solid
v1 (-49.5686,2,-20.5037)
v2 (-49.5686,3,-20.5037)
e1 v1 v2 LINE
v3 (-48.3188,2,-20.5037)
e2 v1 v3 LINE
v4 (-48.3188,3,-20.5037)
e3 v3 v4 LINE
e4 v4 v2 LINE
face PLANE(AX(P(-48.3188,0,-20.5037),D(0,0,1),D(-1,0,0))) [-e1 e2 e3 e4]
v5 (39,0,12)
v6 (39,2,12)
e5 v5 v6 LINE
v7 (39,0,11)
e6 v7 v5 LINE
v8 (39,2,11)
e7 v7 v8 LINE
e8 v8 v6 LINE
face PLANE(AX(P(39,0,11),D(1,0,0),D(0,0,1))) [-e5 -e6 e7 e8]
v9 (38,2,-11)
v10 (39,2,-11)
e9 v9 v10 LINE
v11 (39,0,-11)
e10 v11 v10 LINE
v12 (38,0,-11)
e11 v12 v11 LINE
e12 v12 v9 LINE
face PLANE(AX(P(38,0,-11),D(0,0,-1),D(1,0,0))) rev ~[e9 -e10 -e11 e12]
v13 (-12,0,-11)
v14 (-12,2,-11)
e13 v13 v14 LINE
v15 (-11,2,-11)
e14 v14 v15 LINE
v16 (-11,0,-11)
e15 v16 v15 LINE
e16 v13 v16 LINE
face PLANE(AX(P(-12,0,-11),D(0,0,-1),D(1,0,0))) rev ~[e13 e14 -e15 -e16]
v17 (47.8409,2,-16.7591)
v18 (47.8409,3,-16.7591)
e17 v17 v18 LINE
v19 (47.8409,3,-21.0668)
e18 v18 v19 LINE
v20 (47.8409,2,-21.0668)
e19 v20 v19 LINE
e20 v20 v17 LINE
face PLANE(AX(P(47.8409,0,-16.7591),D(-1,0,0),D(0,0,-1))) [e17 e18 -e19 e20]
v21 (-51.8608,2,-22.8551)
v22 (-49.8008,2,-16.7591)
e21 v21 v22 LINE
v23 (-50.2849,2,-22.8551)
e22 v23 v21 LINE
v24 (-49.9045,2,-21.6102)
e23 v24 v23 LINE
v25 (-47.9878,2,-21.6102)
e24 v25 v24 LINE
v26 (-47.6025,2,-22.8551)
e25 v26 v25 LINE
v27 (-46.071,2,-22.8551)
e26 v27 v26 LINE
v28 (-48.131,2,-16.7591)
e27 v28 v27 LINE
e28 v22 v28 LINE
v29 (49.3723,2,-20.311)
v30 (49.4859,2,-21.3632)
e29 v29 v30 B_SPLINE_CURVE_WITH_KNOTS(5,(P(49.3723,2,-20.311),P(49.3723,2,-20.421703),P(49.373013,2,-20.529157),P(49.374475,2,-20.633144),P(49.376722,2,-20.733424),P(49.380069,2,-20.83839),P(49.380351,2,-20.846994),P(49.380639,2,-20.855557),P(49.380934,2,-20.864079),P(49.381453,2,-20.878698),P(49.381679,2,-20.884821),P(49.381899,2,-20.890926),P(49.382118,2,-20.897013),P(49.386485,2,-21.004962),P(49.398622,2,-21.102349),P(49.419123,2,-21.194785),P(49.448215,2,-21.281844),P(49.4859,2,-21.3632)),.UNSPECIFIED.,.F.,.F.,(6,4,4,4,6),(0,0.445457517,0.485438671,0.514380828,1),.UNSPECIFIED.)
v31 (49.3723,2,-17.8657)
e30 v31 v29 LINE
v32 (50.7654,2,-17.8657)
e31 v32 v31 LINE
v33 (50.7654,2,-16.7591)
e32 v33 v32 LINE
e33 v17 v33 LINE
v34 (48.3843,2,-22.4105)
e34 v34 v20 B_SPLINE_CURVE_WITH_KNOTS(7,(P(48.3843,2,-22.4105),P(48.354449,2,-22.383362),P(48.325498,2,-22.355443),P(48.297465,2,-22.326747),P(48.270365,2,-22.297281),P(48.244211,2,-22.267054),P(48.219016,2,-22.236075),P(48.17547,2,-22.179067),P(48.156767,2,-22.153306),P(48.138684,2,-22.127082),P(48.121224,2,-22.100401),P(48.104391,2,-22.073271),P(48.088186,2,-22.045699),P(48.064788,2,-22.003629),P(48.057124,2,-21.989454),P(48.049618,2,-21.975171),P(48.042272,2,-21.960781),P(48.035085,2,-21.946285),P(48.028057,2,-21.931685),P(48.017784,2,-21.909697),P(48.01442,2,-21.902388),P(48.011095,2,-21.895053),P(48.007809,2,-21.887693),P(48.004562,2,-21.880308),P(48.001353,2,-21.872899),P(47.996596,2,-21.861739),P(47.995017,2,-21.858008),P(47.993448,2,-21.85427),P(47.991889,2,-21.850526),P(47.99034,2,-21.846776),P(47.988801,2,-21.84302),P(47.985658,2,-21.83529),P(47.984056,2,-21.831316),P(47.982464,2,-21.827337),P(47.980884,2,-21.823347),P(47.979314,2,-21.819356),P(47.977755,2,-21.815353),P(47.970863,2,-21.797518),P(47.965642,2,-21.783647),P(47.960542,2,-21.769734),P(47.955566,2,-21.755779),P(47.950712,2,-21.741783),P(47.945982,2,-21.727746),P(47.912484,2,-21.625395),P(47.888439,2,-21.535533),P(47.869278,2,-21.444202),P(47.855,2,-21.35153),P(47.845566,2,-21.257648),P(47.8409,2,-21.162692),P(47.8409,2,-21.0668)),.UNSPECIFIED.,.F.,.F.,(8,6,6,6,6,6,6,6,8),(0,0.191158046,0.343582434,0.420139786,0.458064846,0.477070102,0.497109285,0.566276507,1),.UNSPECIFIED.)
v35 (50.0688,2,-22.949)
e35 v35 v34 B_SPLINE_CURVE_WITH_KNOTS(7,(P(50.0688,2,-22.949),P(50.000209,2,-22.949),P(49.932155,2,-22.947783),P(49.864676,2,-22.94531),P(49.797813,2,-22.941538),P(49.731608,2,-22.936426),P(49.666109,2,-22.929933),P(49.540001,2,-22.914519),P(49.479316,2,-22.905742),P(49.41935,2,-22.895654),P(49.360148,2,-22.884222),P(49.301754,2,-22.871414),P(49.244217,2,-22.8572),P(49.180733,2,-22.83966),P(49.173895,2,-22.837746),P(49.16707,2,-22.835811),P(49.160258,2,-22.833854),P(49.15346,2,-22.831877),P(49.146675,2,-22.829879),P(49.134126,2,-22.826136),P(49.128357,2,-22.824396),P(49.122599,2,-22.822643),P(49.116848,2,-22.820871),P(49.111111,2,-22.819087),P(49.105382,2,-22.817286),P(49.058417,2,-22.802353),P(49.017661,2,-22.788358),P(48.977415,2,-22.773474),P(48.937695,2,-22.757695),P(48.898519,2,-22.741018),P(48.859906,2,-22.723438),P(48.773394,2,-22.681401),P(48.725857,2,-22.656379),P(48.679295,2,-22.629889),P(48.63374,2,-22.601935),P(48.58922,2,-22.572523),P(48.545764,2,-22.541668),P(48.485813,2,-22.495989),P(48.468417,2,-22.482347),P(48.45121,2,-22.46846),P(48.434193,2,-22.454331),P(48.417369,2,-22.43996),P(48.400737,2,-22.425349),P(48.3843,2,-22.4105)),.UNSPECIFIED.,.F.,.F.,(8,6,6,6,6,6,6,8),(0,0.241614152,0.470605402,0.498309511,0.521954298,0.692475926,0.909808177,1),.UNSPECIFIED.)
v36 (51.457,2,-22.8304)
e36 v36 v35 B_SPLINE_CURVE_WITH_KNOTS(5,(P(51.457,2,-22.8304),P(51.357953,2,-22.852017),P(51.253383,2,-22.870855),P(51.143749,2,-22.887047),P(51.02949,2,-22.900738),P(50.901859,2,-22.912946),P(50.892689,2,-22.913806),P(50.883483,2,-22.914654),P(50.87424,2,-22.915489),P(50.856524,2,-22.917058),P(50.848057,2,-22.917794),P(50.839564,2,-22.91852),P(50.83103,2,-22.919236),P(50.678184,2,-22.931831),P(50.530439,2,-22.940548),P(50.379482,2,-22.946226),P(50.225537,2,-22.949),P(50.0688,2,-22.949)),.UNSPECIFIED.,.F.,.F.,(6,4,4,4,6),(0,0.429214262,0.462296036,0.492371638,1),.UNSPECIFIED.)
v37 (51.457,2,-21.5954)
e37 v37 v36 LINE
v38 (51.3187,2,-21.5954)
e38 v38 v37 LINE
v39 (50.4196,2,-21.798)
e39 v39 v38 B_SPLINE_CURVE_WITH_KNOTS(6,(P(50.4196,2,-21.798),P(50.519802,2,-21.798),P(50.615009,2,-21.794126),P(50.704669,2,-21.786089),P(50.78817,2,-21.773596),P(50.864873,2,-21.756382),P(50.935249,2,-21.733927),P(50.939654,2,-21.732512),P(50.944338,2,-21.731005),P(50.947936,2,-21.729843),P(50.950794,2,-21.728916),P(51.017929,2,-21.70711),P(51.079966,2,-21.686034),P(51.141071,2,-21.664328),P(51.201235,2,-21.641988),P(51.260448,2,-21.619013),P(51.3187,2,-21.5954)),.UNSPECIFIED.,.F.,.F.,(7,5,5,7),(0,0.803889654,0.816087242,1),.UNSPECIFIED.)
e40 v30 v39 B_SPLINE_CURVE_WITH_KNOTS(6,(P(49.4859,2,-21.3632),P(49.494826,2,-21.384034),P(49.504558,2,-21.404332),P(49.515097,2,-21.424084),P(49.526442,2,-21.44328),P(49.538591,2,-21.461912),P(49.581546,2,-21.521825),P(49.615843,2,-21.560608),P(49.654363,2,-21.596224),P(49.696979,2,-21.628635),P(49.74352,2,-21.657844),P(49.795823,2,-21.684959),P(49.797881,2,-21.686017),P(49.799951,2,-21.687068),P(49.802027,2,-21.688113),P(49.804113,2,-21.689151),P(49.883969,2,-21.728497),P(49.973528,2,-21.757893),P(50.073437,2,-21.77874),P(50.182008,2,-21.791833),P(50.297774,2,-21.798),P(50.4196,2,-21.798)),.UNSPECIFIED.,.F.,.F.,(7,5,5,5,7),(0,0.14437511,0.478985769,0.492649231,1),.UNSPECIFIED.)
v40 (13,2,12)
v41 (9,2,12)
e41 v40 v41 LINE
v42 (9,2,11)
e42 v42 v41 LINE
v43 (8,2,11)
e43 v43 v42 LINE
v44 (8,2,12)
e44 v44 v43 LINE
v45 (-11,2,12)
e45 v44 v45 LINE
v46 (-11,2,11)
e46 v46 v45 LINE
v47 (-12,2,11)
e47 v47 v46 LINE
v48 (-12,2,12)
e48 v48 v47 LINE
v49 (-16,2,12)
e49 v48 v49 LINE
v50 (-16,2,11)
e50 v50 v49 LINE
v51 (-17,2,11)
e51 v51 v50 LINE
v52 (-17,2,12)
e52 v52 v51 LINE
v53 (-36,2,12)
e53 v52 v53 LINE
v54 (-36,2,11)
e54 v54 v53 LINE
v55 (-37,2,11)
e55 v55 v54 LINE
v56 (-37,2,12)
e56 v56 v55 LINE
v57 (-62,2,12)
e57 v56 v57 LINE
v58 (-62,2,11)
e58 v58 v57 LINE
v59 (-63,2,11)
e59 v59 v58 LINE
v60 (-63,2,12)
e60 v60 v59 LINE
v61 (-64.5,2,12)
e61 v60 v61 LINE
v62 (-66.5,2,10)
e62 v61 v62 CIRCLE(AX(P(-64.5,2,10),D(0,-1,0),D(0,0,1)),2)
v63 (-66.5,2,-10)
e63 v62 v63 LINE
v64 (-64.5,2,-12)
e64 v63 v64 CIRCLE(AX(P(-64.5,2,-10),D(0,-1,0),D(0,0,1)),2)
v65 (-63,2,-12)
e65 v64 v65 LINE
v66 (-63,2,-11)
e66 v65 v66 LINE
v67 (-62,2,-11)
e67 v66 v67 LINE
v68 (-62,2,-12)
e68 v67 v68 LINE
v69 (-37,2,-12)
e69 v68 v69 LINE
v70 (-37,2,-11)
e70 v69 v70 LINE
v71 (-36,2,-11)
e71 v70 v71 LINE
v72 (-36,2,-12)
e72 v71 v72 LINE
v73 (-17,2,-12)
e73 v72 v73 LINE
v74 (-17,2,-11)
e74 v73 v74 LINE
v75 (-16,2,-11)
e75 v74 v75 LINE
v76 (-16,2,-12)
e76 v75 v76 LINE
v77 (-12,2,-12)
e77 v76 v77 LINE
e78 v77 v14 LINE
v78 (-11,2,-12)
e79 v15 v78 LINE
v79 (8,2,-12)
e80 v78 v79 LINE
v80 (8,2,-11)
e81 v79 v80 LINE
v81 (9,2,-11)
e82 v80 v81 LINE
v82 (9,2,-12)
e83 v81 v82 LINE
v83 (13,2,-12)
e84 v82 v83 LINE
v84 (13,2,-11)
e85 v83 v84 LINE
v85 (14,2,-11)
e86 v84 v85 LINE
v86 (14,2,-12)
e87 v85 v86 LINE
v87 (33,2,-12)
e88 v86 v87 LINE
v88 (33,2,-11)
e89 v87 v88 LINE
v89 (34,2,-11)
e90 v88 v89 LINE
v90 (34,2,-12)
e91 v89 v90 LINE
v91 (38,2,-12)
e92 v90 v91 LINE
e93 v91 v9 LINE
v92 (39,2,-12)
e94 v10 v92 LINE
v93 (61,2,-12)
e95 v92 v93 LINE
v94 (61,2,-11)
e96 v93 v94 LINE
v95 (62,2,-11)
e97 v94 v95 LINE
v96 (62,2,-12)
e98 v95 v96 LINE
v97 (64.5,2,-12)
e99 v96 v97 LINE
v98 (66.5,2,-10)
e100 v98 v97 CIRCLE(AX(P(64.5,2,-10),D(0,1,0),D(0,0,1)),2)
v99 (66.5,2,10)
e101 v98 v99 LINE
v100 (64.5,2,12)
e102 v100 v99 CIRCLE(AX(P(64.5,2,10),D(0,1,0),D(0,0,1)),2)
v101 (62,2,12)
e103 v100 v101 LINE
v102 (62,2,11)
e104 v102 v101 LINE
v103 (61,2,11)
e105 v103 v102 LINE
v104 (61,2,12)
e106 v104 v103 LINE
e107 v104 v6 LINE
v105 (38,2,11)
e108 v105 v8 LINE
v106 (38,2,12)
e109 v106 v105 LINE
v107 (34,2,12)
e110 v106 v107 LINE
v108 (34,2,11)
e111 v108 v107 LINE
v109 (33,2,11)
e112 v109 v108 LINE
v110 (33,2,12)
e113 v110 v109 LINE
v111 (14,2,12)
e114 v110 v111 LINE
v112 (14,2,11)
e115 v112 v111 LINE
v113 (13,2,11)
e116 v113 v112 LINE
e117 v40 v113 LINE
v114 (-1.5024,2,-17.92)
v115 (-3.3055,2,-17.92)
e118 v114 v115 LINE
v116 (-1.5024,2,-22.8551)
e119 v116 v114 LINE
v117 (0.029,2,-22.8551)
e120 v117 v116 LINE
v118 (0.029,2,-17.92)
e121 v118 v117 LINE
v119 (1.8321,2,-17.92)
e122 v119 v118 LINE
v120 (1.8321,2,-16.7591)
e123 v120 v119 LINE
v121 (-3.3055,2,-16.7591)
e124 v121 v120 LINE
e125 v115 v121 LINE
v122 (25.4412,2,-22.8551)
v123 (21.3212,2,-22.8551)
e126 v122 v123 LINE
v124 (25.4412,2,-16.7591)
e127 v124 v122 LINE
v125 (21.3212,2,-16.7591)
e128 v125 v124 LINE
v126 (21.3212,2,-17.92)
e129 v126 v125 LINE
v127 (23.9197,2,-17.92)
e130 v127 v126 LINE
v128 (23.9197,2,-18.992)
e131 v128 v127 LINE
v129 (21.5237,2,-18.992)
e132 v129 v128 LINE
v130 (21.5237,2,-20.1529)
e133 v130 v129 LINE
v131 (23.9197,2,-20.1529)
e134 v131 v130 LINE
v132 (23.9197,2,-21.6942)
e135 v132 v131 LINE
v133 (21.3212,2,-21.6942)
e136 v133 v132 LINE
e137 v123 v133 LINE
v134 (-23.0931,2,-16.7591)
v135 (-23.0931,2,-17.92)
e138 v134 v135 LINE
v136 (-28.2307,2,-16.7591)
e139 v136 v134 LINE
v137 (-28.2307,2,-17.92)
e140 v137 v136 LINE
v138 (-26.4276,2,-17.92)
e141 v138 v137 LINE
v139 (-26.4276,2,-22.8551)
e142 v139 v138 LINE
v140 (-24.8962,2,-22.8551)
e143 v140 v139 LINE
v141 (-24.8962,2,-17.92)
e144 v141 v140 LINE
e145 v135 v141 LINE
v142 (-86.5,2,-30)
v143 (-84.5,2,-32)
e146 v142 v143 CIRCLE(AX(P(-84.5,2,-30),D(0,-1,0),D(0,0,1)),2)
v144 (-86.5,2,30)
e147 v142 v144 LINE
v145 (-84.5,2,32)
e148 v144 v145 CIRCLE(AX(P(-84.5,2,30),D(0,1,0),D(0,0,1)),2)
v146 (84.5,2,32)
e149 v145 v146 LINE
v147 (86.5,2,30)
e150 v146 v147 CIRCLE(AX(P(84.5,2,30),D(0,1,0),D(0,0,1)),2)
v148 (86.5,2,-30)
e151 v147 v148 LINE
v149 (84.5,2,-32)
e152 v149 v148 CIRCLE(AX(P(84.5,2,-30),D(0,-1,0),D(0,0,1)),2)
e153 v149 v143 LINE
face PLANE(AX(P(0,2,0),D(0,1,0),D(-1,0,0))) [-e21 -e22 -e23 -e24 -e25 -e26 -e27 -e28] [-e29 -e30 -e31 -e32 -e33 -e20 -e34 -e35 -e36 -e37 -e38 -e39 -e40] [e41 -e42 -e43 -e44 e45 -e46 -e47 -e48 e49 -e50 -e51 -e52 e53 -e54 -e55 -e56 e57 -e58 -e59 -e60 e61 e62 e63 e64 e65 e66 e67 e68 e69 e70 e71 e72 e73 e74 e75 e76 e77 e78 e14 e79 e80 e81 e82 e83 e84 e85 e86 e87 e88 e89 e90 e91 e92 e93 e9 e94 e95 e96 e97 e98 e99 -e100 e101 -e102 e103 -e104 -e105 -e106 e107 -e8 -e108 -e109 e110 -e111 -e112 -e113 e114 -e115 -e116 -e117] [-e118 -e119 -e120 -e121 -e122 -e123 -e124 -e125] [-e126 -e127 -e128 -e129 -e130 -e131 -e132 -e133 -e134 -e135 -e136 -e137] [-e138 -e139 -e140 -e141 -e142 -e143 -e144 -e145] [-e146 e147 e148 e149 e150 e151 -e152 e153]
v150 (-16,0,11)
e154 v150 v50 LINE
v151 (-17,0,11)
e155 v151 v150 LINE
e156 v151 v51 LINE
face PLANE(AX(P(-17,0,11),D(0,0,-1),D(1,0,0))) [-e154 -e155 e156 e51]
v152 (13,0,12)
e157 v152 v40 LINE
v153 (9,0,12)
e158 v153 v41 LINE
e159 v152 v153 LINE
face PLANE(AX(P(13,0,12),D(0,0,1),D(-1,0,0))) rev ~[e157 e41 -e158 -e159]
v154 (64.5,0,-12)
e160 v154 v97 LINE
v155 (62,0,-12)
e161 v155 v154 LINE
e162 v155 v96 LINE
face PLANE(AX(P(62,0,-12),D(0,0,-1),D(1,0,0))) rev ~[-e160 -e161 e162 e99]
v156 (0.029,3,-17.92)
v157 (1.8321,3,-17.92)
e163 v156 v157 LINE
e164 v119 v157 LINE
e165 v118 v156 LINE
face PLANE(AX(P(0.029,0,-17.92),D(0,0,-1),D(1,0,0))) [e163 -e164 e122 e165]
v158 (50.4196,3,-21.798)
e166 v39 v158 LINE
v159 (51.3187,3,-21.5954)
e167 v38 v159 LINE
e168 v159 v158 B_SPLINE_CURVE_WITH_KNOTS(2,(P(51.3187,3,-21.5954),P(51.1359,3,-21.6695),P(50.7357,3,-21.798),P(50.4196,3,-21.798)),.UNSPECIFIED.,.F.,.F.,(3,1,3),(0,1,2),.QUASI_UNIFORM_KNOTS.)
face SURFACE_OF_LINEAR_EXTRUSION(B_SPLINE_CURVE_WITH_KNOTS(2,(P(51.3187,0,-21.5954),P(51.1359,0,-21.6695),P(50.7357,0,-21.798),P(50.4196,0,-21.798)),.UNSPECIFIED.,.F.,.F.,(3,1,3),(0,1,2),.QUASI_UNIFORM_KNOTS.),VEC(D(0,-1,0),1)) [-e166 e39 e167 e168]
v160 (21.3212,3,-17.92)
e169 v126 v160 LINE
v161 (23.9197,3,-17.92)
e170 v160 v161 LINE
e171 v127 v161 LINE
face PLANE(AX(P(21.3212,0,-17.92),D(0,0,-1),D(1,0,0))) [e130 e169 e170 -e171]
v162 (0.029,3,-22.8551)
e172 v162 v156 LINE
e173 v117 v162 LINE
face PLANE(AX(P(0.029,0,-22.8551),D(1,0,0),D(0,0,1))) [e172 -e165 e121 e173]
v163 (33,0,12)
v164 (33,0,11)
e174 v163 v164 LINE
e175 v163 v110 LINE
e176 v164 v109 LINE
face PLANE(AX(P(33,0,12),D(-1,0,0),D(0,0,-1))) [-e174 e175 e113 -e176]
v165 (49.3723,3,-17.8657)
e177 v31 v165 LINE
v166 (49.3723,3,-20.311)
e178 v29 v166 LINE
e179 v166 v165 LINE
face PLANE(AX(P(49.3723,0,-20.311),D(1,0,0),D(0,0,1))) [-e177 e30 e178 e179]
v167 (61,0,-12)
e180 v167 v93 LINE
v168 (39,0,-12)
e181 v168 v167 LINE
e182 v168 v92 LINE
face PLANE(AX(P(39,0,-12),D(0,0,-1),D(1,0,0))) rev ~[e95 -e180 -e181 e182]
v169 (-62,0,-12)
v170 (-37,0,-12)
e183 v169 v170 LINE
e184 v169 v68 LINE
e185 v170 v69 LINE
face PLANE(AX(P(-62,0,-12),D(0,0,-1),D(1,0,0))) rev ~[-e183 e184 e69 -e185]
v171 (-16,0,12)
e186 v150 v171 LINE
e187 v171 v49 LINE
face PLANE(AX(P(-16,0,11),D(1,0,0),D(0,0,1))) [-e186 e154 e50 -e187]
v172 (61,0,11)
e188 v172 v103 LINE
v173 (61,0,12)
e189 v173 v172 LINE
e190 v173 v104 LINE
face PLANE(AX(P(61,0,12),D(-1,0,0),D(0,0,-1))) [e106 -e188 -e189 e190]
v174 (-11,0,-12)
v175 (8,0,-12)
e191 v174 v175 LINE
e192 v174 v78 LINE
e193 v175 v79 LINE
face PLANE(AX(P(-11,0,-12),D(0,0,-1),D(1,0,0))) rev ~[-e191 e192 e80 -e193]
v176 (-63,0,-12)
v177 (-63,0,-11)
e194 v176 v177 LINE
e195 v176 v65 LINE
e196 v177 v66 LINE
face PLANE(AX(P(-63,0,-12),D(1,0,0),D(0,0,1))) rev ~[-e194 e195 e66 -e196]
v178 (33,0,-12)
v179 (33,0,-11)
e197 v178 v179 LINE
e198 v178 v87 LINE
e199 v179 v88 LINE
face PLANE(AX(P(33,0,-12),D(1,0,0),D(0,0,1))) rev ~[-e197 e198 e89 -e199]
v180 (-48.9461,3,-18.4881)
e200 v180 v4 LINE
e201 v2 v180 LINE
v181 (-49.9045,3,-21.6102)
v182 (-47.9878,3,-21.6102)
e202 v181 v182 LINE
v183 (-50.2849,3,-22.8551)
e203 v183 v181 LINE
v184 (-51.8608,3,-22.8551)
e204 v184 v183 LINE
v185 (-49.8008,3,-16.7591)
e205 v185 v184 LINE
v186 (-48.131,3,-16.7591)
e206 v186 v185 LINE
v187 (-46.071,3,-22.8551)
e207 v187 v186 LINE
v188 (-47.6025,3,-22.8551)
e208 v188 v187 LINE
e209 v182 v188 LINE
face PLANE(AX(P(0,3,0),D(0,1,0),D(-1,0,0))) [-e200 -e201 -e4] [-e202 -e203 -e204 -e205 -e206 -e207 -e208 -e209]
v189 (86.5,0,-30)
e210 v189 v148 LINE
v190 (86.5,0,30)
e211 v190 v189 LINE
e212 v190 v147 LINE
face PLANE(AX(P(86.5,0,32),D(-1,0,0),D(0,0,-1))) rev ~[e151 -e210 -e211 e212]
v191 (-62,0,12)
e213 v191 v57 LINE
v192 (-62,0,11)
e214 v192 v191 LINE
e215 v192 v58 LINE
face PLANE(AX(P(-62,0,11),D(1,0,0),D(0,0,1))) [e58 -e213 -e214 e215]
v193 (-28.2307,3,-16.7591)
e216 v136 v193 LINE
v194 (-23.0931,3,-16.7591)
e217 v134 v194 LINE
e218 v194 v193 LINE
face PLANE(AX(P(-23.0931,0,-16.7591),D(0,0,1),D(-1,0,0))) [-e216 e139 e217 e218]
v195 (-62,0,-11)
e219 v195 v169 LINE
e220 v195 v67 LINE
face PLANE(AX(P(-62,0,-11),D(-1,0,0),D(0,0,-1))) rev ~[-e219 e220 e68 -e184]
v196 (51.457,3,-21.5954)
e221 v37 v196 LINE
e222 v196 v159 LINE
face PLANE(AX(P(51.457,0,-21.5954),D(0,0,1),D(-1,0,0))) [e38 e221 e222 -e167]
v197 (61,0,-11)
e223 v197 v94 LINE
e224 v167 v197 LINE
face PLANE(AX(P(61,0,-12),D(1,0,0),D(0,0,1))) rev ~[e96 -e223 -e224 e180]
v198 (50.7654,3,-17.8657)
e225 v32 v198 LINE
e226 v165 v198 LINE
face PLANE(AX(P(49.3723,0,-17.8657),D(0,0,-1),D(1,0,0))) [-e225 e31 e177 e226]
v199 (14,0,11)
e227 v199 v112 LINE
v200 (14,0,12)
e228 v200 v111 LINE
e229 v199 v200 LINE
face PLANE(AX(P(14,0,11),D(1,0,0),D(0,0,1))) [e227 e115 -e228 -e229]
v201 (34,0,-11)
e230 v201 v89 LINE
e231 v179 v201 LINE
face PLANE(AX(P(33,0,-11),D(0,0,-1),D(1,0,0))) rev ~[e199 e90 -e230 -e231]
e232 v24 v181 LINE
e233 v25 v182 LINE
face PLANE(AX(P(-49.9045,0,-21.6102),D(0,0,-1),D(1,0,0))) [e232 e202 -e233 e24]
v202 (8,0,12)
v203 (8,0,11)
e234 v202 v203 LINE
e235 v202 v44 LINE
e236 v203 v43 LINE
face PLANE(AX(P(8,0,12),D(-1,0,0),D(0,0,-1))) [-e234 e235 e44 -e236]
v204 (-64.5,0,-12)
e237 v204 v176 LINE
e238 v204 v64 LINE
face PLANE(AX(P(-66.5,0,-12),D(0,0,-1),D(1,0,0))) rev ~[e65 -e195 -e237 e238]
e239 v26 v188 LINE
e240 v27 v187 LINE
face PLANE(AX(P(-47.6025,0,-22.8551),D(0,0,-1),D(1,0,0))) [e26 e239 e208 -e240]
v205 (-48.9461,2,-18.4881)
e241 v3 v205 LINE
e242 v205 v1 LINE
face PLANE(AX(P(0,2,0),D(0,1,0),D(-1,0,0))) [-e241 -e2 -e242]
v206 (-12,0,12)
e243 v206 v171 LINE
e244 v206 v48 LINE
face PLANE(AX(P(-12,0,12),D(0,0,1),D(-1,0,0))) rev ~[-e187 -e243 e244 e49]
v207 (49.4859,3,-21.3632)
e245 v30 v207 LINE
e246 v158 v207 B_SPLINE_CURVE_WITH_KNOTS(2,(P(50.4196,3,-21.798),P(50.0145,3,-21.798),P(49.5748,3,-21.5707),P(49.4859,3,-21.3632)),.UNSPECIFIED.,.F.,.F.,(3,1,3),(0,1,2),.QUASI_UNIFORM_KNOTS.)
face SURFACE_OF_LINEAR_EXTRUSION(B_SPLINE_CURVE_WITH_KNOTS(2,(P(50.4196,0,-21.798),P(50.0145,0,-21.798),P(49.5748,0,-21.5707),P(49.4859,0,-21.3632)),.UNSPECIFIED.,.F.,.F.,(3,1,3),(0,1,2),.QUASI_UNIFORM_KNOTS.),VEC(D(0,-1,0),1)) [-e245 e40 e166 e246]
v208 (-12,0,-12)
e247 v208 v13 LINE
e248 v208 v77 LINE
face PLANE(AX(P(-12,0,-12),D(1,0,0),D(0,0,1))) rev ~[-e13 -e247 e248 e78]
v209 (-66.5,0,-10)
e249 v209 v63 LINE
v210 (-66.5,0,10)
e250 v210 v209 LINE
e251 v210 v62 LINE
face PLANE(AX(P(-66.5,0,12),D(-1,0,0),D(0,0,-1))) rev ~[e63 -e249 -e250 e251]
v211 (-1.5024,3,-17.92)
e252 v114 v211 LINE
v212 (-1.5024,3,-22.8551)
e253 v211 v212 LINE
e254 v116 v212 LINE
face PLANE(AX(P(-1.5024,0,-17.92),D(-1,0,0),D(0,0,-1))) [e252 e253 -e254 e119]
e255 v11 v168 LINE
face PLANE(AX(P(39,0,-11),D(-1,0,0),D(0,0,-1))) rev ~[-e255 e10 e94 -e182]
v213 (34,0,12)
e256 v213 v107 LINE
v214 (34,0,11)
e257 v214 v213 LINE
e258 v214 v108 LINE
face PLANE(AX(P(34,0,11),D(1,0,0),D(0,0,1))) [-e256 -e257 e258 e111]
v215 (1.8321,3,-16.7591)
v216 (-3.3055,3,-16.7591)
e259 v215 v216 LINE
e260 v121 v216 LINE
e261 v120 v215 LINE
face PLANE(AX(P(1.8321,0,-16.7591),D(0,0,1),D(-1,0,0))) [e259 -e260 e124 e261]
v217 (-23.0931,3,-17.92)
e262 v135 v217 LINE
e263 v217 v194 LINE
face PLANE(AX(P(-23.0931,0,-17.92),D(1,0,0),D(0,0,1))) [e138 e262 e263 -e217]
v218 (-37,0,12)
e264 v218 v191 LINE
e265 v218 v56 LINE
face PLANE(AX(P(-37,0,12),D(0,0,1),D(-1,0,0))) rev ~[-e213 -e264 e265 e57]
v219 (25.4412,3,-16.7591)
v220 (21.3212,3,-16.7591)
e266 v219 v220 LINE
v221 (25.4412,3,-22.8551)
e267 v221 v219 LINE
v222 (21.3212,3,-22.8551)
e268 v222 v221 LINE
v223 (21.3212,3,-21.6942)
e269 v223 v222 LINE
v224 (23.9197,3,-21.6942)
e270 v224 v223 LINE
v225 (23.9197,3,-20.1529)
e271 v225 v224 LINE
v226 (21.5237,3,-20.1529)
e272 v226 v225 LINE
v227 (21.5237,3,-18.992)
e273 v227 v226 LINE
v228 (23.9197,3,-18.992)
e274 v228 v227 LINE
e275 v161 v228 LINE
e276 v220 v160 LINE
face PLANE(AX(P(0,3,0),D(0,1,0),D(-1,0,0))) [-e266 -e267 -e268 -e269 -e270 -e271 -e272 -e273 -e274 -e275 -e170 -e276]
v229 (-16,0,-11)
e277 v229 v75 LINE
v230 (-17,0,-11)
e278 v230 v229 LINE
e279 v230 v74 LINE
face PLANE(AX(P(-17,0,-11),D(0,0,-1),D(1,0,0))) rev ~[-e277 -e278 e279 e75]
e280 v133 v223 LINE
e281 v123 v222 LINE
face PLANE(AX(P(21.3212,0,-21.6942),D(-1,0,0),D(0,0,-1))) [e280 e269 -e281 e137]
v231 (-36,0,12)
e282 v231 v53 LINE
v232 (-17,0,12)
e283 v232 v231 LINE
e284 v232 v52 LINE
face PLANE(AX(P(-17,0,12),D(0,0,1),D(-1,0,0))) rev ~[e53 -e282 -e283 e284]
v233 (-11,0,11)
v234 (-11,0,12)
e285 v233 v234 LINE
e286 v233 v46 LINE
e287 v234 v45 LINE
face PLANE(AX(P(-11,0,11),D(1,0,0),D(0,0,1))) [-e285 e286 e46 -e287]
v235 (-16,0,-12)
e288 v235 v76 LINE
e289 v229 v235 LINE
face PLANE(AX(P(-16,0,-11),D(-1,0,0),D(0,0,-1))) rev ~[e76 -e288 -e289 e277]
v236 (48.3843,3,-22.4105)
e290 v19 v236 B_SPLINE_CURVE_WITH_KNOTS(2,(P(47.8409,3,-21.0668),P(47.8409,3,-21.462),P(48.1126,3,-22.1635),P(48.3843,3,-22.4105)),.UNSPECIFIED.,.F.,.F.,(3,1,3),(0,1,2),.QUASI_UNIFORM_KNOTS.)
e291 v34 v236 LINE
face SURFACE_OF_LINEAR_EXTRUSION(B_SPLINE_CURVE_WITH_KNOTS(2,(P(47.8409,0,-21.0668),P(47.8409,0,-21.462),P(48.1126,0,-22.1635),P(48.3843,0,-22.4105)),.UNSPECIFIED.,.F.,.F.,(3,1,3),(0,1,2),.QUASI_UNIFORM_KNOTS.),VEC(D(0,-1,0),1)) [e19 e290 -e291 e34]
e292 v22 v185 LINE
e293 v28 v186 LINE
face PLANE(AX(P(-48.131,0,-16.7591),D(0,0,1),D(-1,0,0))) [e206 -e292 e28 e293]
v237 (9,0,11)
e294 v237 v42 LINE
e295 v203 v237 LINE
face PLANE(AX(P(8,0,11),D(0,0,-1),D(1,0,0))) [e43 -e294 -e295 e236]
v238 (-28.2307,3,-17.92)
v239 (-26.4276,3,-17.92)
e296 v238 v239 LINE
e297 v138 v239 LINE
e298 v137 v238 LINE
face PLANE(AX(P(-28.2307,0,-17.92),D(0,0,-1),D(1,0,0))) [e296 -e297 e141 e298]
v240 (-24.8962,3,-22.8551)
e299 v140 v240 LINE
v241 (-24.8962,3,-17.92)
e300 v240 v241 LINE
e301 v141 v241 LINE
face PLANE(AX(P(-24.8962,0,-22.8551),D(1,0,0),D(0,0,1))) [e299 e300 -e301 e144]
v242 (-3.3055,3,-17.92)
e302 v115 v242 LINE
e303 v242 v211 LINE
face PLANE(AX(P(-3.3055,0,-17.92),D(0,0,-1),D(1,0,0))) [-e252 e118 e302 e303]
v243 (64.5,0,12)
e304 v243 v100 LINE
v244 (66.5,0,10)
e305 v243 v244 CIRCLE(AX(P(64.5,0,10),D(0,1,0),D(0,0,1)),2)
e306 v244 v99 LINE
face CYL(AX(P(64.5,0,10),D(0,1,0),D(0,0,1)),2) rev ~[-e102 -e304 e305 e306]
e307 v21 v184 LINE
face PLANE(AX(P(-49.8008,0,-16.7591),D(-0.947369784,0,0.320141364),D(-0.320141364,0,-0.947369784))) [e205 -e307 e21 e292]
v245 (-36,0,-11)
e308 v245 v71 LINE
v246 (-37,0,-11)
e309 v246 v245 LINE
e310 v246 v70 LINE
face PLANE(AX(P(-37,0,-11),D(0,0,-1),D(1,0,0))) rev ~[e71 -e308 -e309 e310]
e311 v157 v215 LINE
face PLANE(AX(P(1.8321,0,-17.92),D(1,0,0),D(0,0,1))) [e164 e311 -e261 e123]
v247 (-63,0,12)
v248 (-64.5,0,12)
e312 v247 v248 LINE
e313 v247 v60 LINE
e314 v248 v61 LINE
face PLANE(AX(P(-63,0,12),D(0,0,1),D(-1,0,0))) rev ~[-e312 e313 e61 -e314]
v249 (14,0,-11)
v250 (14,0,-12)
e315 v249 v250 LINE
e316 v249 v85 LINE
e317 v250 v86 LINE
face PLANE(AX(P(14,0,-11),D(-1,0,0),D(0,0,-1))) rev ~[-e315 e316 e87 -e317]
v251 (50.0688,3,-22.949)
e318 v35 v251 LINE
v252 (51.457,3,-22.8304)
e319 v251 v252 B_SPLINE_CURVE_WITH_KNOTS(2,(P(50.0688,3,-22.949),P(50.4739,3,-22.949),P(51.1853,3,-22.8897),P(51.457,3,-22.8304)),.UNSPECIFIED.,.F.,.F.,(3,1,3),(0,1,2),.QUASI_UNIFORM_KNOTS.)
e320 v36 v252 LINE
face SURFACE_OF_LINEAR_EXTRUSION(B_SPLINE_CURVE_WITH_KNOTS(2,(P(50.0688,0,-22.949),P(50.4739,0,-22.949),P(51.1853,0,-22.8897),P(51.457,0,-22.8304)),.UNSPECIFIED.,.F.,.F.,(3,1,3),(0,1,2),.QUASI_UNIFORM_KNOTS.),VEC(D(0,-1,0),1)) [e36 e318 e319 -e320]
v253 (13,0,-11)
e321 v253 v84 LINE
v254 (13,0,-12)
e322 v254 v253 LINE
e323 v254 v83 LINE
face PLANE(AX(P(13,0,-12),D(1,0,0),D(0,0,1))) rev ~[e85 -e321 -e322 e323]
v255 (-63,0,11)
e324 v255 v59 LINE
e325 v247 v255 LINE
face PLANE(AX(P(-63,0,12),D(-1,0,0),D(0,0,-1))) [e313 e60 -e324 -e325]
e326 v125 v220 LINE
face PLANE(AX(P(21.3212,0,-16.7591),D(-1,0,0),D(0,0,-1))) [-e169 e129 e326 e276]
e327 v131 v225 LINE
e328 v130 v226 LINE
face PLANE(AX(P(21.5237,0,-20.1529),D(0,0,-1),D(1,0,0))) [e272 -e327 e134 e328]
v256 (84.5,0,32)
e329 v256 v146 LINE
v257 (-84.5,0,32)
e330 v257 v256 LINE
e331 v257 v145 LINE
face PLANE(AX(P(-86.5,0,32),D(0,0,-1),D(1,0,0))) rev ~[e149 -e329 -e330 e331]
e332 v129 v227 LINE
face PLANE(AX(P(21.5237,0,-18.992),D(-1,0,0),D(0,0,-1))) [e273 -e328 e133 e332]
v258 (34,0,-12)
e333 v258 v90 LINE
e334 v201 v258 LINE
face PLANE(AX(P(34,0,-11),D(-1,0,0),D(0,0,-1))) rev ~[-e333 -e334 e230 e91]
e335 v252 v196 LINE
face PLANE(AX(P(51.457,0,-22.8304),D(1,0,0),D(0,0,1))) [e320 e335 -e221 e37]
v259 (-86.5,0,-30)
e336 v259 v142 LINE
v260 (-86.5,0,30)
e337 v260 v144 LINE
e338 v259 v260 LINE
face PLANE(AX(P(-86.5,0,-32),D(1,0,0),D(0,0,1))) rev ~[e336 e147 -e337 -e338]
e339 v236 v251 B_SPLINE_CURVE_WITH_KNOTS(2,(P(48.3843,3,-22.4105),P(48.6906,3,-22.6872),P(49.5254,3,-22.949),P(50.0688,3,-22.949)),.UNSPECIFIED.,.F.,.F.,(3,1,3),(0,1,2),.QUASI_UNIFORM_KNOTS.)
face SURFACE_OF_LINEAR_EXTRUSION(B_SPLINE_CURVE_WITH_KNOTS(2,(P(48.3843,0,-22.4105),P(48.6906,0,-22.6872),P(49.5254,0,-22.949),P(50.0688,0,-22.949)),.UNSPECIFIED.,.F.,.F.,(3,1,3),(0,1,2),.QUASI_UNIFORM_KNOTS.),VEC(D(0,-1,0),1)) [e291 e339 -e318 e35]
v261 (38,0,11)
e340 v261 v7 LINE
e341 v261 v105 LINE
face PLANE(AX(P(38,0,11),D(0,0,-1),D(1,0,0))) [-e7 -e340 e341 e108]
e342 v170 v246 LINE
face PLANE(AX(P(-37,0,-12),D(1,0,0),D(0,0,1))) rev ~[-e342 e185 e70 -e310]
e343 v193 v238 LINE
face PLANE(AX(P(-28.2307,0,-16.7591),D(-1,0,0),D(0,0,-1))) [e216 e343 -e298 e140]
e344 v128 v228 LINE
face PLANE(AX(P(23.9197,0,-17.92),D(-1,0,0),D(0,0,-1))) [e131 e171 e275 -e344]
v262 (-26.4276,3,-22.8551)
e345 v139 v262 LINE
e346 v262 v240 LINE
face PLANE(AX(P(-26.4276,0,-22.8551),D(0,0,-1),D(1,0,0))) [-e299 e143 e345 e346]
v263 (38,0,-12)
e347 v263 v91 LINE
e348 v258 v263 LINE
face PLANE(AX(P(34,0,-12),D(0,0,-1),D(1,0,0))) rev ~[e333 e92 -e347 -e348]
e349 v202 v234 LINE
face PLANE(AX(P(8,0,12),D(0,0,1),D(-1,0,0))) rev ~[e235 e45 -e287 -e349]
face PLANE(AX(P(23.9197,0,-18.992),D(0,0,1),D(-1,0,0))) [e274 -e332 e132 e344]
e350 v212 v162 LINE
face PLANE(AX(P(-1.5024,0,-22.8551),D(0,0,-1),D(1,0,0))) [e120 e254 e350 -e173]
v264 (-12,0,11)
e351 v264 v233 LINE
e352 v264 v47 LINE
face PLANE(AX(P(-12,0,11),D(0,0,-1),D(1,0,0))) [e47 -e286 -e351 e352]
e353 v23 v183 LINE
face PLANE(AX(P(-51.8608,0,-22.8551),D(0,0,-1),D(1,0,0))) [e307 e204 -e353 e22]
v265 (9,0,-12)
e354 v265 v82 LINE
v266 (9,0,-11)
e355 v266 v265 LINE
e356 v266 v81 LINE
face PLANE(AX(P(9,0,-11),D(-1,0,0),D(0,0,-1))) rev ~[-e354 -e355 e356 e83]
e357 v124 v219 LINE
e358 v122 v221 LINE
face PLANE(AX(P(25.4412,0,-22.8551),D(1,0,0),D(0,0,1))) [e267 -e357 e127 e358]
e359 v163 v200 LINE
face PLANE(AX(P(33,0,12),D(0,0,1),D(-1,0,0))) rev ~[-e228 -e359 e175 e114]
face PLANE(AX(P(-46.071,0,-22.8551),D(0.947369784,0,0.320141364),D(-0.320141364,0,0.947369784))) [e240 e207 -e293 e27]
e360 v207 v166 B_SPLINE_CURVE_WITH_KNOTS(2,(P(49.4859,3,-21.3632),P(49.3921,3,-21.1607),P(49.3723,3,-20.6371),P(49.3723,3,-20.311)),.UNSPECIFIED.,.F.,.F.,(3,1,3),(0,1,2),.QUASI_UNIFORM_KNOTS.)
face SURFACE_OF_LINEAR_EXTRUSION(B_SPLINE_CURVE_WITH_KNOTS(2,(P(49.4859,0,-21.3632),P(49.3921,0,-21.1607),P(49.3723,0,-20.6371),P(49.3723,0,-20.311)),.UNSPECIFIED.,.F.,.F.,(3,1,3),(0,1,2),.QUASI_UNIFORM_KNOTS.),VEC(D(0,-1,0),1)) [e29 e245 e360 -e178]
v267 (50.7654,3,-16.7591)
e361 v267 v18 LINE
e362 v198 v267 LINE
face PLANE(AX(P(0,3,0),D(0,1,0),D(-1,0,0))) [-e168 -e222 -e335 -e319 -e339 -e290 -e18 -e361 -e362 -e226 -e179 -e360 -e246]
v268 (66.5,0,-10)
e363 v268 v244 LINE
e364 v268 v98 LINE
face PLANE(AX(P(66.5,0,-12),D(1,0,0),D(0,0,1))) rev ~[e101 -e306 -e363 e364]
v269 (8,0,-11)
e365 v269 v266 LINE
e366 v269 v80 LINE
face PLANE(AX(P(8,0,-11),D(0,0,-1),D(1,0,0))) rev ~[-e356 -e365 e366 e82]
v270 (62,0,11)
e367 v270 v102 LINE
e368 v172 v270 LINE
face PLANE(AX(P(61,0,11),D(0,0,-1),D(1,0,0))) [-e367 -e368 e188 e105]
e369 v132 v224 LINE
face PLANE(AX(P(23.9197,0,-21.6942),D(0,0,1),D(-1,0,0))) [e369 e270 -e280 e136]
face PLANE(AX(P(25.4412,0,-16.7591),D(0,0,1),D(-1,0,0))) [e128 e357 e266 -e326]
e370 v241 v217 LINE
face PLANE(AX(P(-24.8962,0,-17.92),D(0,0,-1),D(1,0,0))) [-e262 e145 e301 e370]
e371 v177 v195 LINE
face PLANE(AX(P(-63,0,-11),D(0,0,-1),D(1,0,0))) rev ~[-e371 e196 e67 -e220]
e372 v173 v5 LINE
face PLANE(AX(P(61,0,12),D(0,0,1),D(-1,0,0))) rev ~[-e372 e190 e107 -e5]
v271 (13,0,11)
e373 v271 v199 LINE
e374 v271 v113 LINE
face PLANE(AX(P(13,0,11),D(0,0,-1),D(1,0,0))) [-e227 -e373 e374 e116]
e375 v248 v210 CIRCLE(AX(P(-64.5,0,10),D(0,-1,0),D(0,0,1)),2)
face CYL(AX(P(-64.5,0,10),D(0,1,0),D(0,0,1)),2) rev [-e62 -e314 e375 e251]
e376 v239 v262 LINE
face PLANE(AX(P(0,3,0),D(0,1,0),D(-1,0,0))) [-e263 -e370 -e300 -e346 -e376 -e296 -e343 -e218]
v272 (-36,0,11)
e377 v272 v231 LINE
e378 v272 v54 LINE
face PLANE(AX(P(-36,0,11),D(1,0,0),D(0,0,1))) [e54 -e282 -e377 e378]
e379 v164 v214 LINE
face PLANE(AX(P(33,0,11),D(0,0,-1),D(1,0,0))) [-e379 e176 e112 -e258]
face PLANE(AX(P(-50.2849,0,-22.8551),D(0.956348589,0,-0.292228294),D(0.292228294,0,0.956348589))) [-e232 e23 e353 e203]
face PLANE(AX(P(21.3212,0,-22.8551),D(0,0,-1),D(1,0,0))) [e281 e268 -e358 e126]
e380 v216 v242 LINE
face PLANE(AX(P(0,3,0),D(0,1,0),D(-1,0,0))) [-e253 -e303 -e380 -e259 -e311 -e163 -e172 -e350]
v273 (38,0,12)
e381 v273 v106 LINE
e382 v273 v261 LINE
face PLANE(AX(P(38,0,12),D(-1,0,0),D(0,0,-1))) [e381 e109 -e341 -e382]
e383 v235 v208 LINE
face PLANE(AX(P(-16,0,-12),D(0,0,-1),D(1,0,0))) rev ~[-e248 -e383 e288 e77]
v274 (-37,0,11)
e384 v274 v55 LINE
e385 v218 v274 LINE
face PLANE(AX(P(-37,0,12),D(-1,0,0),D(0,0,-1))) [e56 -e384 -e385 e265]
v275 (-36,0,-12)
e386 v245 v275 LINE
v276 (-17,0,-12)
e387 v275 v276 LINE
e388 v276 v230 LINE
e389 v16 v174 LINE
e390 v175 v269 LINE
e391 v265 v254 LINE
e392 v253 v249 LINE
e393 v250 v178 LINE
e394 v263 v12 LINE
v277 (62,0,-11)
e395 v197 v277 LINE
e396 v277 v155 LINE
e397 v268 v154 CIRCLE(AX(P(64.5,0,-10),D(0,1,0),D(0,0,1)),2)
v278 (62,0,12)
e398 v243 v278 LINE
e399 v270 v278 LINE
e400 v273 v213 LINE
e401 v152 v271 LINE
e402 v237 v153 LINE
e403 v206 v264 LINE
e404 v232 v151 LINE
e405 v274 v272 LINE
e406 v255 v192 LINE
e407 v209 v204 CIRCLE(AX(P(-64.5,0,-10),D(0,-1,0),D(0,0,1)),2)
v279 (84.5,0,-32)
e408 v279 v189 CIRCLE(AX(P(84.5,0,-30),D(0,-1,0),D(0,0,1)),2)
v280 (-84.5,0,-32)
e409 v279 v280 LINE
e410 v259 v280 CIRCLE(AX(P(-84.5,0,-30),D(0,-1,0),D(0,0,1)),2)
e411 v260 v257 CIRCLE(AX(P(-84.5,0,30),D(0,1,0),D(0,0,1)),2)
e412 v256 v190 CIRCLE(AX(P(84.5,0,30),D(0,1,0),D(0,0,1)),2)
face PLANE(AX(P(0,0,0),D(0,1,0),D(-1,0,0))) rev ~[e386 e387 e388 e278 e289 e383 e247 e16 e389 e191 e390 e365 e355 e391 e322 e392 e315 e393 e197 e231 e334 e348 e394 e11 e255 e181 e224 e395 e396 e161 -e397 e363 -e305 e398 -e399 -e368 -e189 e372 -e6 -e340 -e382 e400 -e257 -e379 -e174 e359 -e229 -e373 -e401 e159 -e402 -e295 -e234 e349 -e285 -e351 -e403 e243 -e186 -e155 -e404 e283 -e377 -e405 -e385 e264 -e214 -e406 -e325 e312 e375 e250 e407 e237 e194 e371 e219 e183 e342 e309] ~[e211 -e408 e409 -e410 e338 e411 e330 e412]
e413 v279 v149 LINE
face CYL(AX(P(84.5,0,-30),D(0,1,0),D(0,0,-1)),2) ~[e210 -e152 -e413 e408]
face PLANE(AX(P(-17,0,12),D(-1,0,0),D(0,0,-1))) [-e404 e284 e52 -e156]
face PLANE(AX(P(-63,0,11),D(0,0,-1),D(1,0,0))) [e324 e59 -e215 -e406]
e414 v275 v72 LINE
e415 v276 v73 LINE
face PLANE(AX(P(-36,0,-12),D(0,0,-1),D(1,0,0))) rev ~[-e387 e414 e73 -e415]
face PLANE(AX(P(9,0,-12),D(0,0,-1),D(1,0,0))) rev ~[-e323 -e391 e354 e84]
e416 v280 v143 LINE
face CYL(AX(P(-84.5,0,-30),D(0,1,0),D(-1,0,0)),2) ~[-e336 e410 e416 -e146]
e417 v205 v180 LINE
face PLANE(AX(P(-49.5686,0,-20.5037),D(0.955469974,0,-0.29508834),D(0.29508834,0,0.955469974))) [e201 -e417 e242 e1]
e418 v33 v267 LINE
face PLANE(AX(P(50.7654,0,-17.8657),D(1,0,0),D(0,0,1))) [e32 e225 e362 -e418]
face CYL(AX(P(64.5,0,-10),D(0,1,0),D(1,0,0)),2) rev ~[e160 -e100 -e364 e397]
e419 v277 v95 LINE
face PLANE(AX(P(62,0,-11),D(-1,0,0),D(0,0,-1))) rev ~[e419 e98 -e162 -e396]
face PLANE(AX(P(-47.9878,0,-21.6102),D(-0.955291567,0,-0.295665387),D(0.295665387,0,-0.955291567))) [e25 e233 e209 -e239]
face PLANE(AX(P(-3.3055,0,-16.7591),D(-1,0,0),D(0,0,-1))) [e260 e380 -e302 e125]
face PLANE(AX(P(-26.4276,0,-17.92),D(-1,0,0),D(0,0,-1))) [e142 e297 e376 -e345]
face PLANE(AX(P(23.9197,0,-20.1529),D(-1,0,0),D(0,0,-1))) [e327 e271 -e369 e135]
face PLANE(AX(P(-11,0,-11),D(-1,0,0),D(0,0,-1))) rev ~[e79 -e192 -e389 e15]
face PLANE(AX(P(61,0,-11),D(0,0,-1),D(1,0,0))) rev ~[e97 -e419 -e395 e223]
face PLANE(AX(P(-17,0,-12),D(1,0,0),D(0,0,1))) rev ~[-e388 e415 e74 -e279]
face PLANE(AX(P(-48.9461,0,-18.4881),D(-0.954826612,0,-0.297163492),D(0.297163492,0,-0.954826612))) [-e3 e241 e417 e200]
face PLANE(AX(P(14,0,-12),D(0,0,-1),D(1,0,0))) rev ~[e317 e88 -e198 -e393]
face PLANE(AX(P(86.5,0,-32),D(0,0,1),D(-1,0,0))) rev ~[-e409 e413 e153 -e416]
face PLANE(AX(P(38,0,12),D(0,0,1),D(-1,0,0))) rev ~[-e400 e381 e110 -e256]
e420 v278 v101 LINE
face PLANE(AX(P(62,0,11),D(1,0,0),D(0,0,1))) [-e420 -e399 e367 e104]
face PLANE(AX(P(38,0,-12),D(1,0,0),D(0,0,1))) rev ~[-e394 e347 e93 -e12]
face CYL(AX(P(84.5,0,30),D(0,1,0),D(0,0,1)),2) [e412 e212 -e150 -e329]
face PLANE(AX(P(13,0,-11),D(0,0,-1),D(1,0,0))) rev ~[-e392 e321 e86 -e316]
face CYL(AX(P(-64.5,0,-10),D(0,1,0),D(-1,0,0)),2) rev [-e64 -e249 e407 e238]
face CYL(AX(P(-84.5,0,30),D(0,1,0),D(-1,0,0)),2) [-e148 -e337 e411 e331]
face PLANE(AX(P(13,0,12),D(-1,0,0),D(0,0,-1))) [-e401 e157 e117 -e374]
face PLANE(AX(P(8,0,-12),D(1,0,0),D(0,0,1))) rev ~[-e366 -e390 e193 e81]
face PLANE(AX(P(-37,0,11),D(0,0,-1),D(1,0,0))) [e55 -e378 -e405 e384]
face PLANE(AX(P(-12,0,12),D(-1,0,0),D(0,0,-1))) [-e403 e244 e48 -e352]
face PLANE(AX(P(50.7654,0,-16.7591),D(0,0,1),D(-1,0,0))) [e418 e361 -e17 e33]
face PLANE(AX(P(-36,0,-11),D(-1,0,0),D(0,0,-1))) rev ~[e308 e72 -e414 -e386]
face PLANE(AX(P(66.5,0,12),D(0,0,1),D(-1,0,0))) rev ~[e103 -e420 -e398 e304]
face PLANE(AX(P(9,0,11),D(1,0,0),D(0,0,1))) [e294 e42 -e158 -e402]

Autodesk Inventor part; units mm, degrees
ref_plane "YZ Plane" through (0, 0, 0) normal (1, 0, 0) x (0, 1, 0)
ref_plane "XZ Plane" through (0, 0, 0) normal (0, 1, 0) x (-1, 0, 0)
ref_plane "XY Plane" through (0, 0, 0) normal (0, 0, 1) x (1, 0, 0)
sketch "Sketch1" plane through (0, 0, 0) normal (0, 1, 0) x (-1, 0, 0)
  line L0 (-66.5, 12) -> (66.5, 12)
  line L1 (66.5, 12) -> (66.5, -12)
  line L2 (66.5, -12) -> (-66.5, -12)
  line L3 (-66.5, -12) -> (-66.5, 12)
  line L4 (86.5, 32) -> (-86.5, 32)
  line L5 (-86.5, 32) -> (-86.5, -32)
  line L6 (-86.5, -32) -> (86.5, -32)
  line L7 (86.5, -32) -> (86.5, 32)
  line L8 (-62, -12) -> (-61, -12)
  line L9 (-61, -12) -> (-61, -11)
  line L10 (-61, -11) -> (-62, -11)
  line L11 (-62, -11) -> (-62, -12)
  line L12 (-39, -12) -> (-38, -12)
  line L13 (-38, -12) -> (-38, -11)
  line L14 (-38, -11) -> (-39, -11)
  line L15 (-39, -11) -> (-39, -12)
  line L16 (-33, -12) -> (-33, -11)
  line L17 (-34, -12) -> (-33, -12)
  line L18 (-33, -11) -> (-34, -11)
  line L19 (-34, -11) -> (-34, -12)
  line L20 (-14, -11) -> (-14, -12)
  line L21 (-13, -12) -> (-13, -11)
  line L22 (-14, -12) -> (-13, -12)
  line L23 (-13, -11) -> (-14, -11)
  line L24 (-8, -11) -> (-9, -11)
  line L25 (-8, -12) -> (-8, -11)
  line L26 (-9, -11) -> (-9, -12)
  line L27 (-9, -12) -> (-8, -12)
  line L28 (11, -12) -> (12, -12)
  line L29 (12, -12) -> (12, -11)
  line L30 (12, -11) -> (11, -11)
  line L31 (11, -11) -> (11, -12)
  line L32 (17, -11) -> (16, -11)
  line L33 (16, -11) -> (16, -12)
  line L34 (16, -12) -> (17, -12)
  line L35 (17, -12) -> (17, -11)
  line L36 (36, -11) -> (36, -12)
  line L37 (37, -11) -> (36, -11)
  line L38 (37, -12) -> (37, -11)
  line L39 (36, -12) -> (37, -12)
  line L40 (62, -11) -> (62, -12)
  line L41 (63, -12) -> (63, -11)
  line L42 (63, -11) -> (62, -11)
  line L43 (62, -12) -> (63, -12)
  line L44 (-66.5, 0) -> (66.5, 0) construction
  line L45 (-62, 12) -> (-61, 12)
  line L46 (-61, 12) -> (-61, 11)
  line L47 (-61, 11) -> (-62, 11)
  line L48 (-62, 11) -> (-62, 12)
  line L49 (-38, 12) -> (-38, 11)
  line L50 (-39, 12) -> (-38, 12)
  line L51 (-38, 11) -> (-39, 11)
  line L52 (-39, 11) -> (-39, 12)
  line L53 (-34, 11) -> (-34, 12)
  line L54 (-33, 12) -> (-33, 11)
  line L55 (-34, 12) -> (-33, 12)
  line L56 (-33, 11) -> (-34, 11)
  line L57 (-13, 11) -> (-14, 11)
  line L58 (-13, 12) -> (-13, 11)
  line L59 (-14, 11) -> (-14, 12)
  line L60 (-14, 12) -> (-13, 12)
  line L61 (-9, 12) -> (-8, 12)
  line L62 (-8, 12) -> (-8, 11)
  line L63 (-8, 11) -> (-9, 11)
  line L64 (-9, 11) -> (-9, 12)
  line L65 (12, 11) -> (11, 11)
  line L66 (11, 11) -> (11, 12)
  line L67 (11, 12) -> (12, 12)
  line L68 (12, 12) -> (12, 11)
  line L69 (16, 11) -> (16, 12)
  line L70 (17, 11) -> (16, 11)
  line L71 (17, 12) -> (17, 11)
  line L72 (16, 12) -> (17, 12)
  line L73 (36, 11) -> (36, 12)
  line L74 (37, 12) -> (37, 11)
  line L75 (37, 11) -> (36, 11)
  line L76 (36, 12) -> (37, 12)
  line L77 (62, 12) -> (63, 12)
  line L78 (62, 11) -> (62, 12)
  line L79 (63, 11) -> (62, 11)
  line L80 (63, 12) -> (63, 11)
  point P0 (0, 0)
  point P1 (0, 12)
  point P2 (-61.5, -12)
  point P3 (-61.5, -11)
  point P4 (-38.5, -12)
  point P5 (-38.5, -11)
  point P6 (-33.5, -12)
  point P7 (-33.5, -11)
  point P8 (-13.5, -11)
  point P9 (-13.5, -12)
  point P10 (-8.5, -11)
  point P11 (-8.5, -12)
  point P12 (11.5, -12)
  point P13 (11.5, -11)
  point P14 (16.5, -11)
  point P15 (16.5, -12)
  point P16 (36.5, -11)
  point P17 (36.5, -12)
  point P18 (62.5, -12)
  point P19 (62.5, -11)
  point P20 (-61.5, 12)
  point P21 (-61.5, 11)
  point P22 (-38.5, 12)
  point P23 (-38.5, 11)
  point P24 (-33.5, 11)
  point P25 (-33.5, 12)
  point P26 (-13.5, 11)
  point P27 (-13.5, 12)
  point P28 (-8.5, 12)
  point P29 (-8.5, 11)
  point P30 (11.5, 11)
  point P31 (11.5, 12)
  point P32 (16.5, 11)
  point P33 (16.5, 12)
  point P34 (36.5, 12)
  point P35 (36.5, 11)
  point P36 (62.5, 12)
  point P37 (62.5, 11)
  point P38 (63, -12)
  point P39 (62, -12)
  point P40 (37, -12)
  point P41 (36, -12)
  point P42 (17, -12)
  point P43 (16, -12)
  point P44 (12, -12)
  point P45 (11, -12)
  point P46 (-8, -12)
  point P47 (-9, -12)
  point P48 (-13, -12)
  point P49 (-14, -12)
  point P50 (-33, -12)
  point P51 (-34, -12)
  point P52 (-38, -12)
  point P53 (-39, -12)
  point P54 (-61, -12)
  point P55 (-62, -12)
  point P56 (-62, 12)
  point P57 (-61, 12)
  point P58 (-39, 12)
  point P59 (-38, 12)
  point P60 (-34, 12)
  point P61 (-33, 12)
  point P62 (-14, 12)
  point P63 (-13, 12)
  point P64 (-9, 12)
  point P65 (-8, 12)
  point P66 (11, 12)
  point P67 (12, 12)
  point P68 (16, 12)
  point P69 (17, 12)
  point P70 (36, 12)
  point P71 (37, 12)
  point P72 (62, 12)
  point P73 (63, 12)
  dimension "d0" = 133
  dimension "d1" = 24
  dimension "d2" = 20
  dimension "d3" = 1
  dimension "d4" = 1
  dimension "d5" = 5
  dimension "d6" = 1
  dimension "d7" = 1
  dimension "d8" = 23
  dimension "d9" = 1
  dimension "d10" = 1
  dimension "d11" = 5
  dimension "d12" = 1
  dimension "d13" = 1
  dimension "d14" = 20
  dimension "d15" = 1
  dimension "d16" = 1
  dimension "d17" = 5
  dimension "d18" = 1
  dimension "d19" = 1
  dimension "d20" = 20
  dimension "d21" = 1
  dimension "d22" = 1
  dimension "d23" = 5
  dimension "d24" = 1
  dimension "d25" = 1
  dimension "d26" = 20
  dimension "d27" = 1
  dimension "d28" = 1
  dimension "d29" = 26
extrude "Extrusion1" add sketch "Sketch1" along normal blind 2 contours L0 L46 L47 L48 | L11 L10 L9 L2 | L0 L49 L51 L52 | L15 L14 L13 L2 | L0 L54 L56 L53 | L19 L18 L16 L2 | L0 L58 L57 L59 | L20 L23 L21 L2 | L0 L62 L63 L64 | L26 L24 L25 L2 | L0 L68 L65 L66 | L31 L30 L29 L2 | L0 L71 L70 L69 | L33 L32 L35 L2 | L0 L74 L75 L73 | L36 L37 L38 L2 | L0 L80 L79 L78 | L40 L42 L41 L2 | L7 L6 L5 L4
sketch "Sketch4" plane through (0, 0, 0) normal (0, 1, 0) x (-1, 0, 0)
  line L0 (-26.0735, -16.7591) -> (-15.6042, -16.7591) construction
  line L1 (-15.6042, -16.7591) -> (-15.6042, -26.2935) construction
  line L2 (-15.6042, -26.2935) -> (-26.0735, -26.2935) construction
  line L3 (-26.0735, -26.2935) -> (-26.0735, -16.7591) construction
  line L4 (-59.7082, -16.7591) -> (-80.6467, -17.2409) construction
  line L5 (-80.6467, -17.2409) -> (-80.4274, -26.7728) construction
  line L6 (-80.4274, -26.7728) -> (-59.4889, -26.2911) construction
  line L7 (-59.4889, -26.2911) -> (-59.7082, -16.7591) construction
  line L8 (-1.8321, -16.7591) -> (8.6372, -16.7591) construction
  line L9 (8.6372, -16.7591) -> (8.6372, -26.2935) construction
  line L10 (8.6372, -26.2935) -> (-1.8321, -26.2935) construction
  line L11 (-1.8321, -26.2935) -> (-1.8321, -16.7591) construction
  line L12 (46.0957, -26.2935) -> (46.0957, -16.7591) construction
  line L13 (46.0957, -16.7591) -> (56.565, -16.7591) construction
  line L14 (56.565, -16.7591) -> (56.565, -26.2935) construction
  line L15 (56.565, -26.2935) -> (46.0957, -26.2935) construction
  line L16 (20.4435, -23.6306) -> (20.4435, -14.4576) construction
  line L17 (20.4435, -14.4576) -> (30.9128, -14.4576) construction
  line L18 (30.9128, -14.4576) -> (30.9128, -23.6306) construction
  line L19 (30.9128, -23.6306) -> (20.4435, -23.6306) construction
  line L20 (23.0931, -25.9322) -> (23.0931, -16.7591) construction
  line L21 (23.0931, -16.7591) -> (33.5623, -16.7591) construction
  line L22 (33.5623, -16.7591) -> (33.5623, -25.9322) construction
  line L23 (33.5623, -25.9322) -> (23.0931, -25.9322) construction
  line L24 (-39, -12) -> (-61, -12) projected
  line L25 (-25.4412, -22.8551) -> (-25.4412, -16.7591)
  line L26 (-25.4412, -16.7591) -> (-21.3212, -16.7591)
  line L27 (-21.3212, -16.7591) -> (-21.3212, -17.92)
  line L28 (-21.3212, -17.92) -> (-23.9197, -17.92)
  line L29 (-23.9197, -17.92) -> (-23.9197, -18.992)
  line L30 (-23.9197, -18.992) -> (-21.5237, -18.992)
  line L31 (-21.5237, -18.992) -> (-21.5237, -20.1529)
  line L32 (-21.5237, -20.1529) -> (-23.9197, -20.1529)
  line L33 (-23.9197, -20.1529) -> (-23.9197, -21.6942)
  line L34 (-23.9197, -21.6942) -> (-21.3212, -21.6942)
  line L35 (-21.3212, -21.6942) -> (-21.3212, -22.8551)
  line L36 (-21.3212, -22.8551) -> (-25.4412, -22.8551)
  line L37 (-0.029, -22.8551) -> (-0.029, -17.92)
  line L38 (-0.029, -17.92) -> (-1.8321, -17.92)
  line L39 (-1.8321, -17.92) -> (-1.8321, -16.7591)
  line L40 (-1.8321, -16.7591) -> (3.3055, -16.7591)
  line L41 (3.3055, -16.7591) -> (3.3055, -17.92)
  line L42 (3.3055, -17.92) -> (1.5024, -17.92)
  line L43 (1.5024, -17.92) -> (1.5024, -22.8551)
  line L44 (1.5024, -22.8551) -> (-0.029, -22.8551)
  line L45 (24.8962, -22.8551) -> (24.8962, -17.92)
  line L46 (24.8962, -17.92) -> (23.0931, -17.92)
  line L47 (23.0931, -17.92) -> (23.0931, -16.7591)
  line L48 (23.0931, -16.7591) -> (28.2307, -16.7591)
  line L49 (28.2307, -16.7591) -> (28.2307, -17.92)
  line L50 (28.2307, -17.92) -> (26.4276, -17.92)
  line L51 (26.4276, -17.92) -> (26.4276, -22.8551)
  line L52 (26.4276, -22.8551) -> (24.8962, -22.8551)
  line L53 (46.071, -22.8551) -> (48.131, -16.7591)
  line L54 (48.131, -16.7591) -> (49.8008, -16.7591)
  line L55 (49.8008, -16.7591) -> (51.8608, -22.8551)
  line L56 (51.8608, -22.8551) -> (50.2849, -22.8551)
  line L57 (50.2849, -22.8551) -> (49.9045, -21.6102)
  line L58 (49.9045, -21.6102) -> (47.9878, -21.6102)
  line L59 (47.9878, -21.6102) -> (47.6025, -22.8551)
  line L60 (47.6025, -22.8551) -> (46.071, -22.8551)
  line L61 (49.5686, -20.5037) -> (48.9461, -18.4881)
  line L62 (48.9461, -18.4881) -> (48.3188, -20.5037)
  line L63 (48.3188, -20.5037) -> (49.5686, -20.5037)
  point P0 (0, 0)
  point P1 (-70.1775, -17)
  point P2 (3.4025, -16.7591)
  point P3 (28.3277, -16.7591)
  point P4 (51.3304, -16.7591)
  dimension "d34" = 5
extrude "Extrusion2" add sketch "Sketch4" along normal blind 3
sketch "Sketch5" plane through (0, 0, 0) normal (0, 1, 0) x (-1, 0, 0)
  line L0 (-51.4817, -16.7591) -> (-43.9207, -16.7591) construction
  line L1 (-43.9207, -16.7591) -> (-43.9207, -23.2058) construction
  line L2 (-43.9207, -23.2058) -> (-51.4817, -23.2058) construction
  line L3 (-51.4817, -23.2058) -> (-51.4817, -16.7591) construction
  line L4 (-21.3212, -16.7591) -> (-25.4412, -16.7591) projected
  spline S0 degree 2 poles (-47.8409, -21.0668) (-47.8409, -21.462) (-48.1126, -22.1635) (-48.3843, -22.4105) knots 0 0 0 1 2 2 2
  spline S1 degree 2 poles (-48.3843, -22.4105) (-48.6906, -22.6872) (-49.5254, -22.949) (-50.0688, -22.949) knots 0 0 0 1 2 2 2
  spline S2 degree 2 poles (-50.0688, -22.949) (-50.4739, -22.949) (-51.1853, -22.8897) (-51.457, -22.8304) knots 0 0 0 1 2 2 2
  line L5 (-51.457, -22.8304) -> (-51.457, -21.5954)
  line L6 (-51.457, -21.5954) -> (-51.3187, -21.5954)
  spline S3 degree 2 poles (-51.3187, -21.5954) (-51.1359, -21.6695) (-50.7357, -21.798) (-50.4196, -21.798) knots 0 0 0 1 2 2 2
  spline S4 degree 2 poles (-50.4196, -21.798) (-50.0145, -21.798) (-49.5748, -21.5707) (-49.4859, -21.3632) knots 0 0 0 1 2 2 2
  spline S5 degree 2 poles (-49.4859, -21.3632) (-49.3921, -21.1607) (-49.3723, -20.6371) (-49.3723, -20.311) knots 0 0 0 1 2 2 2
  line L7 (-49.3723, -20.311) -> (-49.3723, -17.8657)
  line L8 (-49.3723, -17.8657) -> (-50.7654, -17.8657)
  line L9 (-50.7654, -17.8657) -> (-50.7654, -16.7591)
  line L10 (-50.7654, -16.7591) -> (-47.8409, -16.7591)
  line L11 (-47.8409, -16.7591) -> (-47.8409, -21.0668)
  point P0 (0, 0)
  point P1 (-47.7012, -16.7591)
  point P2 (-23.3812, -16.7591)
extrude "Extrusion3" add sketch "Sketch5" along normal blind 3
fillet "Fillet1" radius 2 8 edges at (-86.5, 1, -32) (-86.5, 1, 32) (86.5, 1, 32) (86.5, 1, -32) (66.5, 1, 12) (66.5, 1, -12) (-66.5, 1, 12) (-66.5, 1, -12)
properties part number "Plantilla_Jetta"
